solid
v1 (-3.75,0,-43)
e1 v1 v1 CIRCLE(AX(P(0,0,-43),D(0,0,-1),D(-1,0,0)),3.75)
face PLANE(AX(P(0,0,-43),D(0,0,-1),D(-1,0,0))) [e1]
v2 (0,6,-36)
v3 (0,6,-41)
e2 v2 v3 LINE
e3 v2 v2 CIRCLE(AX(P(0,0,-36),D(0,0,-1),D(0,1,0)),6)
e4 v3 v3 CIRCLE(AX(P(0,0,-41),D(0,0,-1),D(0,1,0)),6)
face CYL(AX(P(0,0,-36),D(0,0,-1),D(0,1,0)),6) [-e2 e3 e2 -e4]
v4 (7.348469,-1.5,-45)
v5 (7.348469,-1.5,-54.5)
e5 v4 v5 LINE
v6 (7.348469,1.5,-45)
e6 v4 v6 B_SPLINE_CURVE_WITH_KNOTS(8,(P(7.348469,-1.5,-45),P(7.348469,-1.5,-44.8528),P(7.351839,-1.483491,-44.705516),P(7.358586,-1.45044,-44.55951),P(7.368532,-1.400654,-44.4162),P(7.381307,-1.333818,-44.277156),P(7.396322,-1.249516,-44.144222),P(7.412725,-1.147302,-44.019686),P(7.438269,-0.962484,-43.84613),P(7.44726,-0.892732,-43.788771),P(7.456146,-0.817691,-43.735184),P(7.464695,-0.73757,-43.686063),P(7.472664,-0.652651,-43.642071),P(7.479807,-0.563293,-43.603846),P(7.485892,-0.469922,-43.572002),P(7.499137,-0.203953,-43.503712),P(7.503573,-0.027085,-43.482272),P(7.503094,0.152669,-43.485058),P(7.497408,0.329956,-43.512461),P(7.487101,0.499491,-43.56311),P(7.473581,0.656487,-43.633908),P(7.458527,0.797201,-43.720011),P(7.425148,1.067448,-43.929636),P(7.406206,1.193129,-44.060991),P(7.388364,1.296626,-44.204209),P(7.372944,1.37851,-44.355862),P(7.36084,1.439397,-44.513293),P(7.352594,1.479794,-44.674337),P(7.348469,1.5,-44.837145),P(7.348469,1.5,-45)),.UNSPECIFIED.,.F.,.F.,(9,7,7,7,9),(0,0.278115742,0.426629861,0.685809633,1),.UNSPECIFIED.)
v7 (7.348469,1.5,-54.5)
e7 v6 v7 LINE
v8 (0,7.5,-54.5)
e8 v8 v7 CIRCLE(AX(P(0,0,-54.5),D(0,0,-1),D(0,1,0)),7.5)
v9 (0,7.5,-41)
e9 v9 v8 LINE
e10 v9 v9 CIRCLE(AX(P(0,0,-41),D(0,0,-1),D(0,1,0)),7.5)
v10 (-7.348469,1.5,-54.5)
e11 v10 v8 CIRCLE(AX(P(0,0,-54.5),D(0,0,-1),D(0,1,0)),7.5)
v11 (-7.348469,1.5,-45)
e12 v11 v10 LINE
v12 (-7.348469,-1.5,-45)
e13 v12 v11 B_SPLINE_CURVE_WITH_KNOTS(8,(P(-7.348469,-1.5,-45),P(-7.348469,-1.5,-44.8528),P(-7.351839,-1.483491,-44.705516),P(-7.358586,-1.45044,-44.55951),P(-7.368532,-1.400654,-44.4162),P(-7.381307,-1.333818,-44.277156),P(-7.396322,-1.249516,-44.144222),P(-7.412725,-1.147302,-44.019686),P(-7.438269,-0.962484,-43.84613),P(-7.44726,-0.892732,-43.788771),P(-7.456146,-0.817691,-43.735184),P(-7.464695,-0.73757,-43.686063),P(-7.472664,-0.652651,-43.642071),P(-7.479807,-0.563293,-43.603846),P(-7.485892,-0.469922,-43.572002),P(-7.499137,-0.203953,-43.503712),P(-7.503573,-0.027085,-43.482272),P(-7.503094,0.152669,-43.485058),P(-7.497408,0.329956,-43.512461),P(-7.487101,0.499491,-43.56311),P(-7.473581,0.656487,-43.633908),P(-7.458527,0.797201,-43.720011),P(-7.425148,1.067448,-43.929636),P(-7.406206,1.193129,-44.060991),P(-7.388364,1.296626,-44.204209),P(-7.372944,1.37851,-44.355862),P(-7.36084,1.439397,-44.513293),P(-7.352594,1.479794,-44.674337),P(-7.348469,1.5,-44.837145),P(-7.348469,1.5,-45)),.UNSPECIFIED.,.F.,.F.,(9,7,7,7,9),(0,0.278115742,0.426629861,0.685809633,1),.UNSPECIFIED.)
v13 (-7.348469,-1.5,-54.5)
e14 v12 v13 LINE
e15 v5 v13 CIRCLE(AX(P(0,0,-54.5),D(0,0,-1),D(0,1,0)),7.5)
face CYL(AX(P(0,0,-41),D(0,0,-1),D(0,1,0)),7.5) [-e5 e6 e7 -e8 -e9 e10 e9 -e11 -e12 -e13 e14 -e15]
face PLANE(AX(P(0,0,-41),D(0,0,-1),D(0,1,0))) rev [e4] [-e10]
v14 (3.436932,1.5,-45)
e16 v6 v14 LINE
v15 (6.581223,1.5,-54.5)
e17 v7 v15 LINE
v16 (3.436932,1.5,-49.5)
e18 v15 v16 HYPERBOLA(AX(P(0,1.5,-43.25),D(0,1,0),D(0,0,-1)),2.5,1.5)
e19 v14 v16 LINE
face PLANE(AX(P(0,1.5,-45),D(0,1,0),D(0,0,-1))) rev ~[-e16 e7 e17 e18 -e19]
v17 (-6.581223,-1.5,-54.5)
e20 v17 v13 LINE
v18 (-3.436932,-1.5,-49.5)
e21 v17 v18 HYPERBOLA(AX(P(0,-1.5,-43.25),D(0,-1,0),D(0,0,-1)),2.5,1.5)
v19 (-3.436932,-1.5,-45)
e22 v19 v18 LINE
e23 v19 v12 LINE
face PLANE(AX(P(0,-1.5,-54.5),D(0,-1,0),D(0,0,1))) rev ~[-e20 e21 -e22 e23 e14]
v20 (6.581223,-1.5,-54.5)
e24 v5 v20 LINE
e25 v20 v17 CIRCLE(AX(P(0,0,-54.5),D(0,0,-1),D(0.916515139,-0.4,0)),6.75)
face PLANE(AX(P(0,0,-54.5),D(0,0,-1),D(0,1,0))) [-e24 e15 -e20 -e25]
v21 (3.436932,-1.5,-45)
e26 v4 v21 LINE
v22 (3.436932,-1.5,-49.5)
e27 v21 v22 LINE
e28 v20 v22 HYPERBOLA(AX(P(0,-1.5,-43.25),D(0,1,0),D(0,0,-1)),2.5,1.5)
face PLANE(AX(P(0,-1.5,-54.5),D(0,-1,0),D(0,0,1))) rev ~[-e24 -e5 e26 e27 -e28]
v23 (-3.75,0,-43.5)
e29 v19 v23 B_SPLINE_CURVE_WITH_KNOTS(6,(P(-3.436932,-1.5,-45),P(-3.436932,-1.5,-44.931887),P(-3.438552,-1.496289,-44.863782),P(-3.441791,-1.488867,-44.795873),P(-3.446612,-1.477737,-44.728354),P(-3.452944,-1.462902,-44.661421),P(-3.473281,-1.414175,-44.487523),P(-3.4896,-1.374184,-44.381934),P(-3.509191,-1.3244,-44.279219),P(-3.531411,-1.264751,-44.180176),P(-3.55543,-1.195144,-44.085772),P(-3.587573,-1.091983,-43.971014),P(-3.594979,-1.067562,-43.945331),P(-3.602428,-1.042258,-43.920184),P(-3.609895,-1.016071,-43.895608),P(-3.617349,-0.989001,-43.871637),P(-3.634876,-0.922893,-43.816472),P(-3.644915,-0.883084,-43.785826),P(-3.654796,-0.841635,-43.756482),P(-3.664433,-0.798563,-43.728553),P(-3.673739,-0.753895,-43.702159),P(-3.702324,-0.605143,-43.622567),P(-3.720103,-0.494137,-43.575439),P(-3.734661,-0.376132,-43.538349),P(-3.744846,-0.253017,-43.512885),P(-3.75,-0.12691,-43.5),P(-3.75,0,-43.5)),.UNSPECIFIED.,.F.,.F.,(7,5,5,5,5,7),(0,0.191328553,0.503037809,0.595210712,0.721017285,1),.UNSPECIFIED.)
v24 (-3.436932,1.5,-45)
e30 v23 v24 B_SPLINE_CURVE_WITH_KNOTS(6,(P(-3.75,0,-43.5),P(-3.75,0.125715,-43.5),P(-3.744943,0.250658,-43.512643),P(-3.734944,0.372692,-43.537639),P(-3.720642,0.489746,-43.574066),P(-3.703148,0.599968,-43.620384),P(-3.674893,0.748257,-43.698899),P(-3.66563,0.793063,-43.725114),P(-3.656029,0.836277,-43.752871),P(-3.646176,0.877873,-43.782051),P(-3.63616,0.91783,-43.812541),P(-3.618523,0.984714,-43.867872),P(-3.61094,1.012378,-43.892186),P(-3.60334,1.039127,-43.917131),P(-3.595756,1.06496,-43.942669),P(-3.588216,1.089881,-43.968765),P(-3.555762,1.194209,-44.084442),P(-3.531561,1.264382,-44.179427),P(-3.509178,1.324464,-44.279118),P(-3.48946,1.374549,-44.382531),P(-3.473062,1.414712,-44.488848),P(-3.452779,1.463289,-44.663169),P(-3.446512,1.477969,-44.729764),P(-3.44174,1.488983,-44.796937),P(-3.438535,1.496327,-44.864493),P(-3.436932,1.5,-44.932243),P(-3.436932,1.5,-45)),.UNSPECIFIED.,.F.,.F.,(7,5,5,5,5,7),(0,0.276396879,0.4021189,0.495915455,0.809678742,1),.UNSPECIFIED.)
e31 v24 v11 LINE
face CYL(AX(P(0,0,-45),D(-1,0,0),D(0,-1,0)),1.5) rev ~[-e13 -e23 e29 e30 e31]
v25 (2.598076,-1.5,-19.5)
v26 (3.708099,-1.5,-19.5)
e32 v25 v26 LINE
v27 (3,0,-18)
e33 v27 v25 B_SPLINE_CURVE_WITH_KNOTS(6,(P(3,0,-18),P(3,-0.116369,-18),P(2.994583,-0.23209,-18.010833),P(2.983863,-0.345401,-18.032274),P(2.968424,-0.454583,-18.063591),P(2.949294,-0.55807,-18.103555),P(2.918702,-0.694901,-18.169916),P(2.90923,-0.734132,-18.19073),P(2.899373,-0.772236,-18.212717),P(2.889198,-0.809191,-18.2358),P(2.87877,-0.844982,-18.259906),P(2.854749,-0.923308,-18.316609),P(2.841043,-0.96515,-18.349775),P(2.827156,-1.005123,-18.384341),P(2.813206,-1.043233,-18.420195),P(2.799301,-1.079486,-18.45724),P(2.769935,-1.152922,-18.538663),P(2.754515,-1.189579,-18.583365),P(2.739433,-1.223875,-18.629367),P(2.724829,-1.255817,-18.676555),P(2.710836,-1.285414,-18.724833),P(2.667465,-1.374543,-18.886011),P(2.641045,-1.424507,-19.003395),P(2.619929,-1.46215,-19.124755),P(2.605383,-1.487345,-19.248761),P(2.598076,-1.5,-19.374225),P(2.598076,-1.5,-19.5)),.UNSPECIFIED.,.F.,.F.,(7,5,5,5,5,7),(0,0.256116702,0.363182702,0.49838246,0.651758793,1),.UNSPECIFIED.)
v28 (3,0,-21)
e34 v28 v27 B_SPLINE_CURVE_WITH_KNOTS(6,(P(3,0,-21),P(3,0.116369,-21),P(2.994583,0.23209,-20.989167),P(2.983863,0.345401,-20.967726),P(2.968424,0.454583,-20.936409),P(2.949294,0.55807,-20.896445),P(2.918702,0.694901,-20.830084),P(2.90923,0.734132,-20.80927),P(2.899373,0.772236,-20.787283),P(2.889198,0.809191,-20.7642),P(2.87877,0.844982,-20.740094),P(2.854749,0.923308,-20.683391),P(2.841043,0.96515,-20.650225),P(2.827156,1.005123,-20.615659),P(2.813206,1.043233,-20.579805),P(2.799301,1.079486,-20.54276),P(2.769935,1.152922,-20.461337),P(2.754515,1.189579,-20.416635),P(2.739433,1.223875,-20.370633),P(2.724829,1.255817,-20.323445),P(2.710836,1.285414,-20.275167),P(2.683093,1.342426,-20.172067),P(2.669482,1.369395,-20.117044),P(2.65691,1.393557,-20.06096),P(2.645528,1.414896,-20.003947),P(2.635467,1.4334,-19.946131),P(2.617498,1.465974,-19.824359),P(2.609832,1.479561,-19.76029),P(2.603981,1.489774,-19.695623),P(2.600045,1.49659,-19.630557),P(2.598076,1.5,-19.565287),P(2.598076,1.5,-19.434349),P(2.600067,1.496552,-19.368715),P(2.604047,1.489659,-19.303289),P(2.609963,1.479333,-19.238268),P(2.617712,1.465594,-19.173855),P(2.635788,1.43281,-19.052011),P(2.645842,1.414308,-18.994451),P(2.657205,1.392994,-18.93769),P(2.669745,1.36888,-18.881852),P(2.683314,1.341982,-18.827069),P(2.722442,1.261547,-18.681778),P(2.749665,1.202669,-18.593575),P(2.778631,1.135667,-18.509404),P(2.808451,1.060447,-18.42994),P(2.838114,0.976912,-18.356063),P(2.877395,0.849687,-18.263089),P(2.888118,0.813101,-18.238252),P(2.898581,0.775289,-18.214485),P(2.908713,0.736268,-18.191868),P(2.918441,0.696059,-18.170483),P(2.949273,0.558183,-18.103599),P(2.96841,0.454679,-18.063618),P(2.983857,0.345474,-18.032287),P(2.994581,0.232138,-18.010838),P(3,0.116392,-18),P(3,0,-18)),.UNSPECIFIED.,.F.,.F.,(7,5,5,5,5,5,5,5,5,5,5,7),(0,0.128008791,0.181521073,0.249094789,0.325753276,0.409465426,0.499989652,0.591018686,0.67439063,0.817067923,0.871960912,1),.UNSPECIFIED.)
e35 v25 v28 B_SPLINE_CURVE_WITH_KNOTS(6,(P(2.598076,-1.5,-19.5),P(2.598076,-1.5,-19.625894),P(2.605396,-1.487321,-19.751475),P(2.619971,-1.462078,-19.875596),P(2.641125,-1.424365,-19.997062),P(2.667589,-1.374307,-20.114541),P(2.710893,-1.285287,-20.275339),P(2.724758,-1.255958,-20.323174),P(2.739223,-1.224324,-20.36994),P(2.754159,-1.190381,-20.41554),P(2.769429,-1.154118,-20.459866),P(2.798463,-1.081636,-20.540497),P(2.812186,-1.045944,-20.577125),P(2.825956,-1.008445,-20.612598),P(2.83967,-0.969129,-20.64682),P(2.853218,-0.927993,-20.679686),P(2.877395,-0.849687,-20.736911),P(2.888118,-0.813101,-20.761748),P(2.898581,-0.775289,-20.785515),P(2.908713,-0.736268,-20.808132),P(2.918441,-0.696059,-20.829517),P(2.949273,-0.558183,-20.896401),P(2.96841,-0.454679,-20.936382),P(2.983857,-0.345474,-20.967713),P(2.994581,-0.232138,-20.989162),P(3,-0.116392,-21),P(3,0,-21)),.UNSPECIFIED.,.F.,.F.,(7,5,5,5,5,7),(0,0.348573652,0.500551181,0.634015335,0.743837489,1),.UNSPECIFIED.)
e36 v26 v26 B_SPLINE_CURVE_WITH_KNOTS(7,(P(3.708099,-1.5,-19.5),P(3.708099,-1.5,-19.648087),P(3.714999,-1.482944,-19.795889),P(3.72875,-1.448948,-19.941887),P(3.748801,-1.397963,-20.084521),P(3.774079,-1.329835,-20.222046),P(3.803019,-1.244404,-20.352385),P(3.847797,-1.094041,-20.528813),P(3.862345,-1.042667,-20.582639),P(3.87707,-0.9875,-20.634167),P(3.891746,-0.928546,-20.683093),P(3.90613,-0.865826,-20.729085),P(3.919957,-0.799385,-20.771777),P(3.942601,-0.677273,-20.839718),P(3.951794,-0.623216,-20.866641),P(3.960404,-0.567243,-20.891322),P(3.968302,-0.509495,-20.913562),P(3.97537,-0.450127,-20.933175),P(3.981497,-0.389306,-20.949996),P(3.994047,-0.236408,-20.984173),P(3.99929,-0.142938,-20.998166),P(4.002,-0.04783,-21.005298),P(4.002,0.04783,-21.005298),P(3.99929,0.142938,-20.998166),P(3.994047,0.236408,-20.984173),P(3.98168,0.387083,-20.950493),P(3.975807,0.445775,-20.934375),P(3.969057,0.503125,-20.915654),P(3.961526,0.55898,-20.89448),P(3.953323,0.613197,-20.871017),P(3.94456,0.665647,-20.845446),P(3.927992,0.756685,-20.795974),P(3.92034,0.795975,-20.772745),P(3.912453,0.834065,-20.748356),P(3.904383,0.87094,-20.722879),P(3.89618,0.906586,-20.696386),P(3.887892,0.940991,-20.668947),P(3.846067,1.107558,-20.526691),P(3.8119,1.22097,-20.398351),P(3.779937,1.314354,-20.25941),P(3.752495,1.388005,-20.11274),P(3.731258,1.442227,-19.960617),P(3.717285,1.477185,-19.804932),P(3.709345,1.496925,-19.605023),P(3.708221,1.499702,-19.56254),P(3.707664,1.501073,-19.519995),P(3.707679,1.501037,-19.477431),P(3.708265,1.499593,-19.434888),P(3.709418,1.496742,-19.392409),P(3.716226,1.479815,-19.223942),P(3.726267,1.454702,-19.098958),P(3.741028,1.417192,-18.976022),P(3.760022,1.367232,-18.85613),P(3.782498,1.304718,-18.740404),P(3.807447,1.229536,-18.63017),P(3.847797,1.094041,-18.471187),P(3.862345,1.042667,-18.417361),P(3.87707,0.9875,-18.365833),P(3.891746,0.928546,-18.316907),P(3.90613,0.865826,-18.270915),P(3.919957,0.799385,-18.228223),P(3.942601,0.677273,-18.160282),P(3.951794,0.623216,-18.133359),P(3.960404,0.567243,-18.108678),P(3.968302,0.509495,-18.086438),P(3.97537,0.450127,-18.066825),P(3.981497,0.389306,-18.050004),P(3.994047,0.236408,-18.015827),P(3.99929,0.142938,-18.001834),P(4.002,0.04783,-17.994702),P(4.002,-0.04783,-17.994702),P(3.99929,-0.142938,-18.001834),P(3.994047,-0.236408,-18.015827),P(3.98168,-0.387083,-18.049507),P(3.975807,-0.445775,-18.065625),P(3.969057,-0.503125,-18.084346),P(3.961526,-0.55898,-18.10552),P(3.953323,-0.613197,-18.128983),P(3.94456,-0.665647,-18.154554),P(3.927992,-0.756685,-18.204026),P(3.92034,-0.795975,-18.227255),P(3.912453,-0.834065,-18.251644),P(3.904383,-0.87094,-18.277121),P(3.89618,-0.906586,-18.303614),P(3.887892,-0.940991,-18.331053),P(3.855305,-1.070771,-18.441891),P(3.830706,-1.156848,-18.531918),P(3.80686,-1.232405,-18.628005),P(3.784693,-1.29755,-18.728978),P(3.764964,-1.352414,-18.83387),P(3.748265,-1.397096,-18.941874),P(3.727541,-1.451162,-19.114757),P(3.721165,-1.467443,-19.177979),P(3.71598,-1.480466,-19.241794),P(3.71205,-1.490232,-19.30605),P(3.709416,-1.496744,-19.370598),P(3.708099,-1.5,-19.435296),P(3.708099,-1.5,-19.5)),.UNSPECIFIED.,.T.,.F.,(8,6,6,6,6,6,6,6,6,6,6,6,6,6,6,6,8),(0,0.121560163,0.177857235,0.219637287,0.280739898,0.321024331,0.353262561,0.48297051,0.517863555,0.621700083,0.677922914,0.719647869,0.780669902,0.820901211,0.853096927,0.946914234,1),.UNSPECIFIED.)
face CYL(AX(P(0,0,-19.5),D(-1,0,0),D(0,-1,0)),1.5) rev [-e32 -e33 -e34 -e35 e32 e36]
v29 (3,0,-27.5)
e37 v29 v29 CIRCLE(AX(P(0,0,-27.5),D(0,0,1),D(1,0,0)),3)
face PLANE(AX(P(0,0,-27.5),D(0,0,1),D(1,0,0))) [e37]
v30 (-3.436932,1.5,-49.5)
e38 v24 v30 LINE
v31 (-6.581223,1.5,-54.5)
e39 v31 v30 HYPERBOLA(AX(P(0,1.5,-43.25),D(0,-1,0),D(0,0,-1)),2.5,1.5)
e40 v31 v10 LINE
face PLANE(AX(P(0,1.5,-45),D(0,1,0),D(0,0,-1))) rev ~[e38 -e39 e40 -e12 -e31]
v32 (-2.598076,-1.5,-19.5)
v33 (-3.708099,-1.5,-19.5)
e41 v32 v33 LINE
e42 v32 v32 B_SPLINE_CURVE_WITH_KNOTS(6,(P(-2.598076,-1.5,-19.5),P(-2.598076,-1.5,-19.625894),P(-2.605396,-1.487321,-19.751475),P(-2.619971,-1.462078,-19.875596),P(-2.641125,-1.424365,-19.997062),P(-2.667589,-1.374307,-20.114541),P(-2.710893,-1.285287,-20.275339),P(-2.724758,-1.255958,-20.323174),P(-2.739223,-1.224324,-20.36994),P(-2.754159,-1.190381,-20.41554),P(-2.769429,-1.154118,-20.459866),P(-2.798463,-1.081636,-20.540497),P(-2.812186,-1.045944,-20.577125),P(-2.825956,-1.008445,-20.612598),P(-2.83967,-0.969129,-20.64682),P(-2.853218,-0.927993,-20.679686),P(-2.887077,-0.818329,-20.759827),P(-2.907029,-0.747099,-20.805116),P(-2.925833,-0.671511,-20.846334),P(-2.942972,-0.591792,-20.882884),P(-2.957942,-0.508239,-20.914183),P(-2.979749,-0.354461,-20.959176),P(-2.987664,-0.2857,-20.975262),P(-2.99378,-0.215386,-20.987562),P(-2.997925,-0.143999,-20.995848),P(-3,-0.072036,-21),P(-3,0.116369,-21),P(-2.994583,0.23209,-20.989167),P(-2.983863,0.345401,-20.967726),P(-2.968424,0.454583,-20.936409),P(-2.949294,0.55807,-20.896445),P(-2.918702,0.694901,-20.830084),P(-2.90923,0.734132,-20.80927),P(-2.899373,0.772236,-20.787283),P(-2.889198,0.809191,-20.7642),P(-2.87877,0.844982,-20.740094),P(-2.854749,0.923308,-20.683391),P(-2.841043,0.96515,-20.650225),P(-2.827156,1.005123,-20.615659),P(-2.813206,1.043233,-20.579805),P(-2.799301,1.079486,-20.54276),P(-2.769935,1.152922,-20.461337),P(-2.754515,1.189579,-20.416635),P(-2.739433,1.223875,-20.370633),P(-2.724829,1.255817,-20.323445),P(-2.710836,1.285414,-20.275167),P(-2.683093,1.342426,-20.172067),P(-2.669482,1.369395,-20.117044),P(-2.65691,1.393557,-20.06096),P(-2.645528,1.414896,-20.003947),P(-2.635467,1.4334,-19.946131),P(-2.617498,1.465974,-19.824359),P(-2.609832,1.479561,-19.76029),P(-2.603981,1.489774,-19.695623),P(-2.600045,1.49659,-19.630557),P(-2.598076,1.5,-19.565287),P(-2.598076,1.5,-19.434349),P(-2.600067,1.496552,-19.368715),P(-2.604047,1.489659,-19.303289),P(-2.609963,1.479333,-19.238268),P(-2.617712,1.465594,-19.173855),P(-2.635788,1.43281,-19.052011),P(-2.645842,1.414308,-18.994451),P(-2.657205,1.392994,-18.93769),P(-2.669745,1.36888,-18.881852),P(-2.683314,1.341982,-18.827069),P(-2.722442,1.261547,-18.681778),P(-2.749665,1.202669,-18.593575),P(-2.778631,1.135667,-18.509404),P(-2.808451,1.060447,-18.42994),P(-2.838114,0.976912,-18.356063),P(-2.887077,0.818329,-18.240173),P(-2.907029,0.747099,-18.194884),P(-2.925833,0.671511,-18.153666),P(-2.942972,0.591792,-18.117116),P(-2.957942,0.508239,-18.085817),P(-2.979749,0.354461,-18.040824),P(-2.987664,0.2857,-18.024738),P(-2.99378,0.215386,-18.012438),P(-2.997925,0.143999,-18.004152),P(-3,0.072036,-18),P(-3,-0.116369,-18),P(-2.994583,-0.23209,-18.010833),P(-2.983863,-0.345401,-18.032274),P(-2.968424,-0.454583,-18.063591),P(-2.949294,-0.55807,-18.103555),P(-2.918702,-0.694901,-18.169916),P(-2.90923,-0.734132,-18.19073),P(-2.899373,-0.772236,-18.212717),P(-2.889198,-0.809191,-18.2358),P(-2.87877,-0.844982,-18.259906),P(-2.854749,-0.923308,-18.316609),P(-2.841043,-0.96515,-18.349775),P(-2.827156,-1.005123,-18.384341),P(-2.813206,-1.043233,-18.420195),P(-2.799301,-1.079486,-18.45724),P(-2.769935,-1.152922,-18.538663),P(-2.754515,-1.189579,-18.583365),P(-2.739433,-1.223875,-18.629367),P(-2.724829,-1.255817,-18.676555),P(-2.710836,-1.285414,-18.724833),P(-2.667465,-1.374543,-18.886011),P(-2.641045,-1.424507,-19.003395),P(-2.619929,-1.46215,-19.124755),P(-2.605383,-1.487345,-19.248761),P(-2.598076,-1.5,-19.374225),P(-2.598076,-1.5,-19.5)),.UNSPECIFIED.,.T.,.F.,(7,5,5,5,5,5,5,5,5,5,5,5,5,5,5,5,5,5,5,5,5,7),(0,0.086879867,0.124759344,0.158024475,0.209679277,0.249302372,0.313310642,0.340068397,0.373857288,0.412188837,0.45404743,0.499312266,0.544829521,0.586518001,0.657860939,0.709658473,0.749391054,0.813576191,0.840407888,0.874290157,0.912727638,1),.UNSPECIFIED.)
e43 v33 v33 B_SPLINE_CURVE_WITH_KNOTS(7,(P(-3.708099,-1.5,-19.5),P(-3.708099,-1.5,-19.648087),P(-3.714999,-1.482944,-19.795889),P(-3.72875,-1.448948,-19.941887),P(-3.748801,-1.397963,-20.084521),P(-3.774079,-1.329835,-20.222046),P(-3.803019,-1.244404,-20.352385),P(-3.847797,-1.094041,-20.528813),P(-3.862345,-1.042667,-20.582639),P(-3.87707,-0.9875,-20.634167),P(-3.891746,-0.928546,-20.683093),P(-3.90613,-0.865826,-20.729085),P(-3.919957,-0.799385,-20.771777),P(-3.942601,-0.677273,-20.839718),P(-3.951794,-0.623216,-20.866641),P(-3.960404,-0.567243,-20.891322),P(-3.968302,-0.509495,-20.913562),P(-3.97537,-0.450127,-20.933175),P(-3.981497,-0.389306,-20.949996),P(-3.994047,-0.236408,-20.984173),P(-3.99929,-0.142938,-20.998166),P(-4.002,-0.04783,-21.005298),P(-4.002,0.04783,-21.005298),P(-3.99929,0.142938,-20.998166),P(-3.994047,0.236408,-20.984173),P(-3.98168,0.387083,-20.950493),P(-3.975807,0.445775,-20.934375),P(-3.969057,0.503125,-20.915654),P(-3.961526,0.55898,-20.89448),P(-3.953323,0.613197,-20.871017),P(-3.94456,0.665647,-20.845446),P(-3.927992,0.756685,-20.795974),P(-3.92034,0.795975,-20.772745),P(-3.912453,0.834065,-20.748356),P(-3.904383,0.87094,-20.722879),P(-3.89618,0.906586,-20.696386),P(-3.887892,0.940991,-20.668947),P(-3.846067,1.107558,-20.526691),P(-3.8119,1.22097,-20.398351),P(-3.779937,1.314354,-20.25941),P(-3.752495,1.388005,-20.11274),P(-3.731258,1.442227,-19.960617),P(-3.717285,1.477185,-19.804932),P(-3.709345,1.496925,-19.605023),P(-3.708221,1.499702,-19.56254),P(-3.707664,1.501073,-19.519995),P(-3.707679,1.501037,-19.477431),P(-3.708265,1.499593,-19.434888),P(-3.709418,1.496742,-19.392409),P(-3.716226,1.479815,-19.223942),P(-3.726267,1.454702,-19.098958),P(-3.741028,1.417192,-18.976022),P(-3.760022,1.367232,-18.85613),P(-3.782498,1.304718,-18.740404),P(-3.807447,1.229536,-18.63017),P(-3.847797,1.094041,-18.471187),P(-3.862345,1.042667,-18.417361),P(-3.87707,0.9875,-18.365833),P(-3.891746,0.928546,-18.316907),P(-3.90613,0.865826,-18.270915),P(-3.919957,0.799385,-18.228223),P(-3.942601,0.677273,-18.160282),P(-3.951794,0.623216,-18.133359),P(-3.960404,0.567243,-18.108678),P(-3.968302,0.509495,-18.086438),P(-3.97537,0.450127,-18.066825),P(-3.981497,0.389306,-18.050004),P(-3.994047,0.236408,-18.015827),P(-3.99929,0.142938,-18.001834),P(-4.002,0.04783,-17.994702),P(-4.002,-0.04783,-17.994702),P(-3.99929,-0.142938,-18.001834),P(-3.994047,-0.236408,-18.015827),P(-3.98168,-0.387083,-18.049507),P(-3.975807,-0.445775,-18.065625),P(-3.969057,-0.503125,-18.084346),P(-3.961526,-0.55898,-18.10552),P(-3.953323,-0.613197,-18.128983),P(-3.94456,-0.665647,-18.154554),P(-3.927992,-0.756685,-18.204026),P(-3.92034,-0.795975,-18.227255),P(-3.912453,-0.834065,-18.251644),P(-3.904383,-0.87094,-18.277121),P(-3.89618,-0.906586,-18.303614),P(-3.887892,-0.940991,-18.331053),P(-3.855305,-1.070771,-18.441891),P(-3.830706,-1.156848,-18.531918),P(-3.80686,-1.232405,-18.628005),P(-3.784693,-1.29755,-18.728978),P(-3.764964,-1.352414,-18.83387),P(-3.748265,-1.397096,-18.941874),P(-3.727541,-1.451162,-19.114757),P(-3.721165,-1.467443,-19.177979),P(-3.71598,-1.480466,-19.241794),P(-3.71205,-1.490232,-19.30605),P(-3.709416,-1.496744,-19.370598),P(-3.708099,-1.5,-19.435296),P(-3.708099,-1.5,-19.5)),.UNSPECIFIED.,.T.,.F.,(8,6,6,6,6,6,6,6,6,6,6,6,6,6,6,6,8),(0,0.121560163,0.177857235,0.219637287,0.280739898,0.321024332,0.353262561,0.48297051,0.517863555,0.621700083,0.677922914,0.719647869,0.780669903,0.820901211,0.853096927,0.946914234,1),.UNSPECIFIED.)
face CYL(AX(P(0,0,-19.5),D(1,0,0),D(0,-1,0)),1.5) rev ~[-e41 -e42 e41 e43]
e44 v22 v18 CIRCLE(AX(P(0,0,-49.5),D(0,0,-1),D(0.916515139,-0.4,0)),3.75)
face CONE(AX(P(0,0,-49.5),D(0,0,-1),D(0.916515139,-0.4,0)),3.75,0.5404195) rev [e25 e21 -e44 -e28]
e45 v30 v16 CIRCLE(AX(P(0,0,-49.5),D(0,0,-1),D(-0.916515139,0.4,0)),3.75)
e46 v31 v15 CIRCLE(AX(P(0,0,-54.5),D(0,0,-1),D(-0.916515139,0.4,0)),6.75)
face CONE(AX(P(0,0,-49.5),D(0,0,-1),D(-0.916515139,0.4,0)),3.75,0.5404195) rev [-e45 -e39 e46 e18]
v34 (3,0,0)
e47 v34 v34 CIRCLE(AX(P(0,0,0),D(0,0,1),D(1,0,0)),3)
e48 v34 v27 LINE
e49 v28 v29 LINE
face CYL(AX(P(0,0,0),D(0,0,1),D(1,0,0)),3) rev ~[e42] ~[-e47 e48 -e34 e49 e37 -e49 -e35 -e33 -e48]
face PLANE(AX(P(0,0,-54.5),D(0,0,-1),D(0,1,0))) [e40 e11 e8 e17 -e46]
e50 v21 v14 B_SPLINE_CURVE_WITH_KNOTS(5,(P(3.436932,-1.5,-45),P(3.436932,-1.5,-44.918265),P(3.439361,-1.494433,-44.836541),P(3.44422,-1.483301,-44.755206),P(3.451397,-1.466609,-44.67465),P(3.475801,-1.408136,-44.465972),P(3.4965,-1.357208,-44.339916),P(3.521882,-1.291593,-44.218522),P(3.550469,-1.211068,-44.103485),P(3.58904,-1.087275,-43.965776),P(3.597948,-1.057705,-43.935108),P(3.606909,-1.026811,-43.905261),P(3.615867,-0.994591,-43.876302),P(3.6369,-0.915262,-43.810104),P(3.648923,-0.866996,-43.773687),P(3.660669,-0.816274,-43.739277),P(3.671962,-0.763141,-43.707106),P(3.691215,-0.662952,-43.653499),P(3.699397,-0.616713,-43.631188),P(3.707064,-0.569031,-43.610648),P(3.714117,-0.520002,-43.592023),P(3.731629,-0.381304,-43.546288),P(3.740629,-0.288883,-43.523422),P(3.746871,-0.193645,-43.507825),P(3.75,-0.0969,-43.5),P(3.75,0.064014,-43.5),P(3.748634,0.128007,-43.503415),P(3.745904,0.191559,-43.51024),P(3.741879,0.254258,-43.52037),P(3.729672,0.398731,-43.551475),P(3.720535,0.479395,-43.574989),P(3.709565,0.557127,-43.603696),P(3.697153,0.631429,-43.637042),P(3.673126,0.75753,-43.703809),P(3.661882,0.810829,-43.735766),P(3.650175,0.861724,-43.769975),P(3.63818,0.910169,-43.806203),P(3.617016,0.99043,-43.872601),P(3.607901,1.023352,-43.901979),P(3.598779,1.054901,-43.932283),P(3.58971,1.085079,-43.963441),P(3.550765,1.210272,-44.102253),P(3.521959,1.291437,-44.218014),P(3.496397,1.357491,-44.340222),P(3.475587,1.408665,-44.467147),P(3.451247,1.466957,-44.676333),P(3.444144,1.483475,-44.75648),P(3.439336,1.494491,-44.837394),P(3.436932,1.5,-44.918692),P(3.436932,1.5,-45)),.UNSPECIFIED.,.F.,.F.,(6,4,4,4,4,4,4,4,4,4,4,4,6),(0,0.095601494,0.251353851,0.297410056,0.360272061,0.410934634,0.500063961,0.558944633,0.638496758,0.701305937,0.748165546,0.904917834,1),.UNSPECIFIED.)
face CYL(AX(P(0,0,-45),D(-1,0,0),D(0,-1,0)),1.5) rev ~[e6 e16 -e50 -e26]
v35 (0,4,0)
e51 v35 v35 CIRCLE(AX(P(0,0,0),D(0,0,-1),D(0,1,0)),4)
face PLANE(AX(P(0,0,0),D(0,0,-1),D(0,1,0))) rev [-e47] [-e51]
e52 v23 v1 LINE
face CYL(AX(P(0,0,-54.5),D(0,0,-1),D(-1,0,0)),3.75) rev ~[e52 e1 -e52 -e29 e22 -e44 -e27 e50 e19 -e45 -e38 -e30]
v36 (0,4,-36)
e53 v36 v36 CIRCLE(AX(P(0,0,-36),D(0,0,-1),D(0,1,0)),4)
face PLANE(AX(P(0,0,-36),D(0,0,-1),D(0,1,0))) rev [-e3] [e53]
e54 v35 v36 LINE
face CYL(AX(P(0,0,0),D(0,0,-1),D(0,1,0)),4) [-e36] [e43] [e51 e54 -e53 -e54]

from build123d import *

# Parameters (mm, degrees)
CUT_EXTRUDE1_DEPTH      = 8.5
CUT_EXTRUDE1_DEPTH_BACK = 8.5
SKETCH3_R               = 3.75
CUT_EXTRUDE2_DEPTH      = 11.5
CHAMFER1_SIZE           = 3
CHAMFER1_SIZE2          = 5
CHAMFER1_PART_2_SIZE    = 3
CHAMFER1_PART_2_SIZE2   = 5
SKETCH4_R               = 3
CUT_EXTRUDE3_DEPTH      = 27.5
SKETCH5_R               = 1.5
CUT_EXTRUDE4_DEPTH      = 8.5000001
CUT_EXTRUDE4_DEPTH_BACK = 8.5000001


with BuildPart() as part:
    # Sketch1 → Revolve1 (revolve)
    with BuildSketch(Plane(origin=(0, 0, 0), x_dir=(0, 0, -1), z_dir=(1, 0, 0))):
        Polygon((0, 4), (36, 4), (36, 6), (41, 6), (41, 7.5), (54.5, 7.5), (54.5, 0), (0, 0), align=None)
    revolve(axis=Axis((0, 0, 0), (0, 0, -1)))

    # Sketch2 → Cut-Extrude1 (cut, two sides)
    with BuildSketch(Plane(origin=(0, 0, 0), x_dir=(0, 0, -1), z_dir=(1, 0, 0))) as cut_extrude1_sk:
        with BuildLine():
            Line((54.5, -1.5), (45, -1.5))
            ThreePointArc((45, -1.5), (43.5, 0), (45, 1.5))
            Line((45, 1.5), (54.5, 1.5))
            ThreePointArc((54.5, 1.5), (56, 0), (54.5, -1.5))
        make_face()
    extrude(amount=CUT_EXTRUDE1_DEPTH, mode=Mode.SUBTRACT)
    extrude(cut_extrude1_sk.sketch, amount=-CUT_EXTRUDE1_DEPTH_BACK, mode=Mode.SUBTRACT)

    # Sketch3 → Cut-Extrude2 (cut)
    with BuildSketch(Plane(origin=(0, 0, -54.5), x_dir=(-1, 0, 0), z_dir=(0, 0, -1))):
        Circle(SKETCH3_R)
    extrude(amount=-CUT_EXTRUDE2_DEPTH, mode=Mode.SUBTRACT)

    # Chamfer1
    chamfer1_edges = [part.edges().sort_by_distance(p)[0] for p in [
        (0, -3.75, -54.5),
    ]]
    chamfer1_side = [part.faces().sort_by_distance(p)[0] for p in [
        (0, -4.328722243, -54.5),
    ]]
    chamfer(chamfer1_edges, length=CHAMFER1_SIZE, length2=CHAMFER1_SIZE2, reference=chamfer1_side[0])

    # Chamfer1 part 2
    chamfer1_part_2_edges = [part.edges().sort_by_distance(p)[0] for p in [
        (0, 3.75, -54.5),
    ]]
    chamfer1_part_2_side = [part.faces().sort_by_distance(p)[0] for p in [
        (0, 4.328722243, -54.5),
    ]]
    chamfer(chamfer1_part_2_edges, length=CHAMFER1_PART_2_SIZE, length2=CHAMFER1_PART_2_SIZE2, reference=chamfer1_part_2_side[0])

    # Sketch4 → Cut-Extrude3 (cut)
    with BuildSketch(Plane.XY):
        Circle(SKETCH4_R)
    extrude(amount=-CUT_EXTRUDE3_DEPTH, mode=Mode.SUBTRACT)

    # Sketch5 → Cut-Extrude4 (cut, two sides)
    with BuildSketch(Plane(origin=(0, 0, 0), x_dir=(0, -1, 0), z_dir=(1, 0, 0))) as cut_extrude4_sk:
        with Locations((0, 19.5)):
            Circle(SKETCH5_R)
    extrude(amount=CUT_EXTRUDE4_DEPTH, mode=Mode.SUBTRACT)
    extrude(cut_extrude4_sk.sketch, amount=-CUT_EXTRUDE4_DEPTH_BACK, mode=Mode.SUBTRACT)


solid = part.part
